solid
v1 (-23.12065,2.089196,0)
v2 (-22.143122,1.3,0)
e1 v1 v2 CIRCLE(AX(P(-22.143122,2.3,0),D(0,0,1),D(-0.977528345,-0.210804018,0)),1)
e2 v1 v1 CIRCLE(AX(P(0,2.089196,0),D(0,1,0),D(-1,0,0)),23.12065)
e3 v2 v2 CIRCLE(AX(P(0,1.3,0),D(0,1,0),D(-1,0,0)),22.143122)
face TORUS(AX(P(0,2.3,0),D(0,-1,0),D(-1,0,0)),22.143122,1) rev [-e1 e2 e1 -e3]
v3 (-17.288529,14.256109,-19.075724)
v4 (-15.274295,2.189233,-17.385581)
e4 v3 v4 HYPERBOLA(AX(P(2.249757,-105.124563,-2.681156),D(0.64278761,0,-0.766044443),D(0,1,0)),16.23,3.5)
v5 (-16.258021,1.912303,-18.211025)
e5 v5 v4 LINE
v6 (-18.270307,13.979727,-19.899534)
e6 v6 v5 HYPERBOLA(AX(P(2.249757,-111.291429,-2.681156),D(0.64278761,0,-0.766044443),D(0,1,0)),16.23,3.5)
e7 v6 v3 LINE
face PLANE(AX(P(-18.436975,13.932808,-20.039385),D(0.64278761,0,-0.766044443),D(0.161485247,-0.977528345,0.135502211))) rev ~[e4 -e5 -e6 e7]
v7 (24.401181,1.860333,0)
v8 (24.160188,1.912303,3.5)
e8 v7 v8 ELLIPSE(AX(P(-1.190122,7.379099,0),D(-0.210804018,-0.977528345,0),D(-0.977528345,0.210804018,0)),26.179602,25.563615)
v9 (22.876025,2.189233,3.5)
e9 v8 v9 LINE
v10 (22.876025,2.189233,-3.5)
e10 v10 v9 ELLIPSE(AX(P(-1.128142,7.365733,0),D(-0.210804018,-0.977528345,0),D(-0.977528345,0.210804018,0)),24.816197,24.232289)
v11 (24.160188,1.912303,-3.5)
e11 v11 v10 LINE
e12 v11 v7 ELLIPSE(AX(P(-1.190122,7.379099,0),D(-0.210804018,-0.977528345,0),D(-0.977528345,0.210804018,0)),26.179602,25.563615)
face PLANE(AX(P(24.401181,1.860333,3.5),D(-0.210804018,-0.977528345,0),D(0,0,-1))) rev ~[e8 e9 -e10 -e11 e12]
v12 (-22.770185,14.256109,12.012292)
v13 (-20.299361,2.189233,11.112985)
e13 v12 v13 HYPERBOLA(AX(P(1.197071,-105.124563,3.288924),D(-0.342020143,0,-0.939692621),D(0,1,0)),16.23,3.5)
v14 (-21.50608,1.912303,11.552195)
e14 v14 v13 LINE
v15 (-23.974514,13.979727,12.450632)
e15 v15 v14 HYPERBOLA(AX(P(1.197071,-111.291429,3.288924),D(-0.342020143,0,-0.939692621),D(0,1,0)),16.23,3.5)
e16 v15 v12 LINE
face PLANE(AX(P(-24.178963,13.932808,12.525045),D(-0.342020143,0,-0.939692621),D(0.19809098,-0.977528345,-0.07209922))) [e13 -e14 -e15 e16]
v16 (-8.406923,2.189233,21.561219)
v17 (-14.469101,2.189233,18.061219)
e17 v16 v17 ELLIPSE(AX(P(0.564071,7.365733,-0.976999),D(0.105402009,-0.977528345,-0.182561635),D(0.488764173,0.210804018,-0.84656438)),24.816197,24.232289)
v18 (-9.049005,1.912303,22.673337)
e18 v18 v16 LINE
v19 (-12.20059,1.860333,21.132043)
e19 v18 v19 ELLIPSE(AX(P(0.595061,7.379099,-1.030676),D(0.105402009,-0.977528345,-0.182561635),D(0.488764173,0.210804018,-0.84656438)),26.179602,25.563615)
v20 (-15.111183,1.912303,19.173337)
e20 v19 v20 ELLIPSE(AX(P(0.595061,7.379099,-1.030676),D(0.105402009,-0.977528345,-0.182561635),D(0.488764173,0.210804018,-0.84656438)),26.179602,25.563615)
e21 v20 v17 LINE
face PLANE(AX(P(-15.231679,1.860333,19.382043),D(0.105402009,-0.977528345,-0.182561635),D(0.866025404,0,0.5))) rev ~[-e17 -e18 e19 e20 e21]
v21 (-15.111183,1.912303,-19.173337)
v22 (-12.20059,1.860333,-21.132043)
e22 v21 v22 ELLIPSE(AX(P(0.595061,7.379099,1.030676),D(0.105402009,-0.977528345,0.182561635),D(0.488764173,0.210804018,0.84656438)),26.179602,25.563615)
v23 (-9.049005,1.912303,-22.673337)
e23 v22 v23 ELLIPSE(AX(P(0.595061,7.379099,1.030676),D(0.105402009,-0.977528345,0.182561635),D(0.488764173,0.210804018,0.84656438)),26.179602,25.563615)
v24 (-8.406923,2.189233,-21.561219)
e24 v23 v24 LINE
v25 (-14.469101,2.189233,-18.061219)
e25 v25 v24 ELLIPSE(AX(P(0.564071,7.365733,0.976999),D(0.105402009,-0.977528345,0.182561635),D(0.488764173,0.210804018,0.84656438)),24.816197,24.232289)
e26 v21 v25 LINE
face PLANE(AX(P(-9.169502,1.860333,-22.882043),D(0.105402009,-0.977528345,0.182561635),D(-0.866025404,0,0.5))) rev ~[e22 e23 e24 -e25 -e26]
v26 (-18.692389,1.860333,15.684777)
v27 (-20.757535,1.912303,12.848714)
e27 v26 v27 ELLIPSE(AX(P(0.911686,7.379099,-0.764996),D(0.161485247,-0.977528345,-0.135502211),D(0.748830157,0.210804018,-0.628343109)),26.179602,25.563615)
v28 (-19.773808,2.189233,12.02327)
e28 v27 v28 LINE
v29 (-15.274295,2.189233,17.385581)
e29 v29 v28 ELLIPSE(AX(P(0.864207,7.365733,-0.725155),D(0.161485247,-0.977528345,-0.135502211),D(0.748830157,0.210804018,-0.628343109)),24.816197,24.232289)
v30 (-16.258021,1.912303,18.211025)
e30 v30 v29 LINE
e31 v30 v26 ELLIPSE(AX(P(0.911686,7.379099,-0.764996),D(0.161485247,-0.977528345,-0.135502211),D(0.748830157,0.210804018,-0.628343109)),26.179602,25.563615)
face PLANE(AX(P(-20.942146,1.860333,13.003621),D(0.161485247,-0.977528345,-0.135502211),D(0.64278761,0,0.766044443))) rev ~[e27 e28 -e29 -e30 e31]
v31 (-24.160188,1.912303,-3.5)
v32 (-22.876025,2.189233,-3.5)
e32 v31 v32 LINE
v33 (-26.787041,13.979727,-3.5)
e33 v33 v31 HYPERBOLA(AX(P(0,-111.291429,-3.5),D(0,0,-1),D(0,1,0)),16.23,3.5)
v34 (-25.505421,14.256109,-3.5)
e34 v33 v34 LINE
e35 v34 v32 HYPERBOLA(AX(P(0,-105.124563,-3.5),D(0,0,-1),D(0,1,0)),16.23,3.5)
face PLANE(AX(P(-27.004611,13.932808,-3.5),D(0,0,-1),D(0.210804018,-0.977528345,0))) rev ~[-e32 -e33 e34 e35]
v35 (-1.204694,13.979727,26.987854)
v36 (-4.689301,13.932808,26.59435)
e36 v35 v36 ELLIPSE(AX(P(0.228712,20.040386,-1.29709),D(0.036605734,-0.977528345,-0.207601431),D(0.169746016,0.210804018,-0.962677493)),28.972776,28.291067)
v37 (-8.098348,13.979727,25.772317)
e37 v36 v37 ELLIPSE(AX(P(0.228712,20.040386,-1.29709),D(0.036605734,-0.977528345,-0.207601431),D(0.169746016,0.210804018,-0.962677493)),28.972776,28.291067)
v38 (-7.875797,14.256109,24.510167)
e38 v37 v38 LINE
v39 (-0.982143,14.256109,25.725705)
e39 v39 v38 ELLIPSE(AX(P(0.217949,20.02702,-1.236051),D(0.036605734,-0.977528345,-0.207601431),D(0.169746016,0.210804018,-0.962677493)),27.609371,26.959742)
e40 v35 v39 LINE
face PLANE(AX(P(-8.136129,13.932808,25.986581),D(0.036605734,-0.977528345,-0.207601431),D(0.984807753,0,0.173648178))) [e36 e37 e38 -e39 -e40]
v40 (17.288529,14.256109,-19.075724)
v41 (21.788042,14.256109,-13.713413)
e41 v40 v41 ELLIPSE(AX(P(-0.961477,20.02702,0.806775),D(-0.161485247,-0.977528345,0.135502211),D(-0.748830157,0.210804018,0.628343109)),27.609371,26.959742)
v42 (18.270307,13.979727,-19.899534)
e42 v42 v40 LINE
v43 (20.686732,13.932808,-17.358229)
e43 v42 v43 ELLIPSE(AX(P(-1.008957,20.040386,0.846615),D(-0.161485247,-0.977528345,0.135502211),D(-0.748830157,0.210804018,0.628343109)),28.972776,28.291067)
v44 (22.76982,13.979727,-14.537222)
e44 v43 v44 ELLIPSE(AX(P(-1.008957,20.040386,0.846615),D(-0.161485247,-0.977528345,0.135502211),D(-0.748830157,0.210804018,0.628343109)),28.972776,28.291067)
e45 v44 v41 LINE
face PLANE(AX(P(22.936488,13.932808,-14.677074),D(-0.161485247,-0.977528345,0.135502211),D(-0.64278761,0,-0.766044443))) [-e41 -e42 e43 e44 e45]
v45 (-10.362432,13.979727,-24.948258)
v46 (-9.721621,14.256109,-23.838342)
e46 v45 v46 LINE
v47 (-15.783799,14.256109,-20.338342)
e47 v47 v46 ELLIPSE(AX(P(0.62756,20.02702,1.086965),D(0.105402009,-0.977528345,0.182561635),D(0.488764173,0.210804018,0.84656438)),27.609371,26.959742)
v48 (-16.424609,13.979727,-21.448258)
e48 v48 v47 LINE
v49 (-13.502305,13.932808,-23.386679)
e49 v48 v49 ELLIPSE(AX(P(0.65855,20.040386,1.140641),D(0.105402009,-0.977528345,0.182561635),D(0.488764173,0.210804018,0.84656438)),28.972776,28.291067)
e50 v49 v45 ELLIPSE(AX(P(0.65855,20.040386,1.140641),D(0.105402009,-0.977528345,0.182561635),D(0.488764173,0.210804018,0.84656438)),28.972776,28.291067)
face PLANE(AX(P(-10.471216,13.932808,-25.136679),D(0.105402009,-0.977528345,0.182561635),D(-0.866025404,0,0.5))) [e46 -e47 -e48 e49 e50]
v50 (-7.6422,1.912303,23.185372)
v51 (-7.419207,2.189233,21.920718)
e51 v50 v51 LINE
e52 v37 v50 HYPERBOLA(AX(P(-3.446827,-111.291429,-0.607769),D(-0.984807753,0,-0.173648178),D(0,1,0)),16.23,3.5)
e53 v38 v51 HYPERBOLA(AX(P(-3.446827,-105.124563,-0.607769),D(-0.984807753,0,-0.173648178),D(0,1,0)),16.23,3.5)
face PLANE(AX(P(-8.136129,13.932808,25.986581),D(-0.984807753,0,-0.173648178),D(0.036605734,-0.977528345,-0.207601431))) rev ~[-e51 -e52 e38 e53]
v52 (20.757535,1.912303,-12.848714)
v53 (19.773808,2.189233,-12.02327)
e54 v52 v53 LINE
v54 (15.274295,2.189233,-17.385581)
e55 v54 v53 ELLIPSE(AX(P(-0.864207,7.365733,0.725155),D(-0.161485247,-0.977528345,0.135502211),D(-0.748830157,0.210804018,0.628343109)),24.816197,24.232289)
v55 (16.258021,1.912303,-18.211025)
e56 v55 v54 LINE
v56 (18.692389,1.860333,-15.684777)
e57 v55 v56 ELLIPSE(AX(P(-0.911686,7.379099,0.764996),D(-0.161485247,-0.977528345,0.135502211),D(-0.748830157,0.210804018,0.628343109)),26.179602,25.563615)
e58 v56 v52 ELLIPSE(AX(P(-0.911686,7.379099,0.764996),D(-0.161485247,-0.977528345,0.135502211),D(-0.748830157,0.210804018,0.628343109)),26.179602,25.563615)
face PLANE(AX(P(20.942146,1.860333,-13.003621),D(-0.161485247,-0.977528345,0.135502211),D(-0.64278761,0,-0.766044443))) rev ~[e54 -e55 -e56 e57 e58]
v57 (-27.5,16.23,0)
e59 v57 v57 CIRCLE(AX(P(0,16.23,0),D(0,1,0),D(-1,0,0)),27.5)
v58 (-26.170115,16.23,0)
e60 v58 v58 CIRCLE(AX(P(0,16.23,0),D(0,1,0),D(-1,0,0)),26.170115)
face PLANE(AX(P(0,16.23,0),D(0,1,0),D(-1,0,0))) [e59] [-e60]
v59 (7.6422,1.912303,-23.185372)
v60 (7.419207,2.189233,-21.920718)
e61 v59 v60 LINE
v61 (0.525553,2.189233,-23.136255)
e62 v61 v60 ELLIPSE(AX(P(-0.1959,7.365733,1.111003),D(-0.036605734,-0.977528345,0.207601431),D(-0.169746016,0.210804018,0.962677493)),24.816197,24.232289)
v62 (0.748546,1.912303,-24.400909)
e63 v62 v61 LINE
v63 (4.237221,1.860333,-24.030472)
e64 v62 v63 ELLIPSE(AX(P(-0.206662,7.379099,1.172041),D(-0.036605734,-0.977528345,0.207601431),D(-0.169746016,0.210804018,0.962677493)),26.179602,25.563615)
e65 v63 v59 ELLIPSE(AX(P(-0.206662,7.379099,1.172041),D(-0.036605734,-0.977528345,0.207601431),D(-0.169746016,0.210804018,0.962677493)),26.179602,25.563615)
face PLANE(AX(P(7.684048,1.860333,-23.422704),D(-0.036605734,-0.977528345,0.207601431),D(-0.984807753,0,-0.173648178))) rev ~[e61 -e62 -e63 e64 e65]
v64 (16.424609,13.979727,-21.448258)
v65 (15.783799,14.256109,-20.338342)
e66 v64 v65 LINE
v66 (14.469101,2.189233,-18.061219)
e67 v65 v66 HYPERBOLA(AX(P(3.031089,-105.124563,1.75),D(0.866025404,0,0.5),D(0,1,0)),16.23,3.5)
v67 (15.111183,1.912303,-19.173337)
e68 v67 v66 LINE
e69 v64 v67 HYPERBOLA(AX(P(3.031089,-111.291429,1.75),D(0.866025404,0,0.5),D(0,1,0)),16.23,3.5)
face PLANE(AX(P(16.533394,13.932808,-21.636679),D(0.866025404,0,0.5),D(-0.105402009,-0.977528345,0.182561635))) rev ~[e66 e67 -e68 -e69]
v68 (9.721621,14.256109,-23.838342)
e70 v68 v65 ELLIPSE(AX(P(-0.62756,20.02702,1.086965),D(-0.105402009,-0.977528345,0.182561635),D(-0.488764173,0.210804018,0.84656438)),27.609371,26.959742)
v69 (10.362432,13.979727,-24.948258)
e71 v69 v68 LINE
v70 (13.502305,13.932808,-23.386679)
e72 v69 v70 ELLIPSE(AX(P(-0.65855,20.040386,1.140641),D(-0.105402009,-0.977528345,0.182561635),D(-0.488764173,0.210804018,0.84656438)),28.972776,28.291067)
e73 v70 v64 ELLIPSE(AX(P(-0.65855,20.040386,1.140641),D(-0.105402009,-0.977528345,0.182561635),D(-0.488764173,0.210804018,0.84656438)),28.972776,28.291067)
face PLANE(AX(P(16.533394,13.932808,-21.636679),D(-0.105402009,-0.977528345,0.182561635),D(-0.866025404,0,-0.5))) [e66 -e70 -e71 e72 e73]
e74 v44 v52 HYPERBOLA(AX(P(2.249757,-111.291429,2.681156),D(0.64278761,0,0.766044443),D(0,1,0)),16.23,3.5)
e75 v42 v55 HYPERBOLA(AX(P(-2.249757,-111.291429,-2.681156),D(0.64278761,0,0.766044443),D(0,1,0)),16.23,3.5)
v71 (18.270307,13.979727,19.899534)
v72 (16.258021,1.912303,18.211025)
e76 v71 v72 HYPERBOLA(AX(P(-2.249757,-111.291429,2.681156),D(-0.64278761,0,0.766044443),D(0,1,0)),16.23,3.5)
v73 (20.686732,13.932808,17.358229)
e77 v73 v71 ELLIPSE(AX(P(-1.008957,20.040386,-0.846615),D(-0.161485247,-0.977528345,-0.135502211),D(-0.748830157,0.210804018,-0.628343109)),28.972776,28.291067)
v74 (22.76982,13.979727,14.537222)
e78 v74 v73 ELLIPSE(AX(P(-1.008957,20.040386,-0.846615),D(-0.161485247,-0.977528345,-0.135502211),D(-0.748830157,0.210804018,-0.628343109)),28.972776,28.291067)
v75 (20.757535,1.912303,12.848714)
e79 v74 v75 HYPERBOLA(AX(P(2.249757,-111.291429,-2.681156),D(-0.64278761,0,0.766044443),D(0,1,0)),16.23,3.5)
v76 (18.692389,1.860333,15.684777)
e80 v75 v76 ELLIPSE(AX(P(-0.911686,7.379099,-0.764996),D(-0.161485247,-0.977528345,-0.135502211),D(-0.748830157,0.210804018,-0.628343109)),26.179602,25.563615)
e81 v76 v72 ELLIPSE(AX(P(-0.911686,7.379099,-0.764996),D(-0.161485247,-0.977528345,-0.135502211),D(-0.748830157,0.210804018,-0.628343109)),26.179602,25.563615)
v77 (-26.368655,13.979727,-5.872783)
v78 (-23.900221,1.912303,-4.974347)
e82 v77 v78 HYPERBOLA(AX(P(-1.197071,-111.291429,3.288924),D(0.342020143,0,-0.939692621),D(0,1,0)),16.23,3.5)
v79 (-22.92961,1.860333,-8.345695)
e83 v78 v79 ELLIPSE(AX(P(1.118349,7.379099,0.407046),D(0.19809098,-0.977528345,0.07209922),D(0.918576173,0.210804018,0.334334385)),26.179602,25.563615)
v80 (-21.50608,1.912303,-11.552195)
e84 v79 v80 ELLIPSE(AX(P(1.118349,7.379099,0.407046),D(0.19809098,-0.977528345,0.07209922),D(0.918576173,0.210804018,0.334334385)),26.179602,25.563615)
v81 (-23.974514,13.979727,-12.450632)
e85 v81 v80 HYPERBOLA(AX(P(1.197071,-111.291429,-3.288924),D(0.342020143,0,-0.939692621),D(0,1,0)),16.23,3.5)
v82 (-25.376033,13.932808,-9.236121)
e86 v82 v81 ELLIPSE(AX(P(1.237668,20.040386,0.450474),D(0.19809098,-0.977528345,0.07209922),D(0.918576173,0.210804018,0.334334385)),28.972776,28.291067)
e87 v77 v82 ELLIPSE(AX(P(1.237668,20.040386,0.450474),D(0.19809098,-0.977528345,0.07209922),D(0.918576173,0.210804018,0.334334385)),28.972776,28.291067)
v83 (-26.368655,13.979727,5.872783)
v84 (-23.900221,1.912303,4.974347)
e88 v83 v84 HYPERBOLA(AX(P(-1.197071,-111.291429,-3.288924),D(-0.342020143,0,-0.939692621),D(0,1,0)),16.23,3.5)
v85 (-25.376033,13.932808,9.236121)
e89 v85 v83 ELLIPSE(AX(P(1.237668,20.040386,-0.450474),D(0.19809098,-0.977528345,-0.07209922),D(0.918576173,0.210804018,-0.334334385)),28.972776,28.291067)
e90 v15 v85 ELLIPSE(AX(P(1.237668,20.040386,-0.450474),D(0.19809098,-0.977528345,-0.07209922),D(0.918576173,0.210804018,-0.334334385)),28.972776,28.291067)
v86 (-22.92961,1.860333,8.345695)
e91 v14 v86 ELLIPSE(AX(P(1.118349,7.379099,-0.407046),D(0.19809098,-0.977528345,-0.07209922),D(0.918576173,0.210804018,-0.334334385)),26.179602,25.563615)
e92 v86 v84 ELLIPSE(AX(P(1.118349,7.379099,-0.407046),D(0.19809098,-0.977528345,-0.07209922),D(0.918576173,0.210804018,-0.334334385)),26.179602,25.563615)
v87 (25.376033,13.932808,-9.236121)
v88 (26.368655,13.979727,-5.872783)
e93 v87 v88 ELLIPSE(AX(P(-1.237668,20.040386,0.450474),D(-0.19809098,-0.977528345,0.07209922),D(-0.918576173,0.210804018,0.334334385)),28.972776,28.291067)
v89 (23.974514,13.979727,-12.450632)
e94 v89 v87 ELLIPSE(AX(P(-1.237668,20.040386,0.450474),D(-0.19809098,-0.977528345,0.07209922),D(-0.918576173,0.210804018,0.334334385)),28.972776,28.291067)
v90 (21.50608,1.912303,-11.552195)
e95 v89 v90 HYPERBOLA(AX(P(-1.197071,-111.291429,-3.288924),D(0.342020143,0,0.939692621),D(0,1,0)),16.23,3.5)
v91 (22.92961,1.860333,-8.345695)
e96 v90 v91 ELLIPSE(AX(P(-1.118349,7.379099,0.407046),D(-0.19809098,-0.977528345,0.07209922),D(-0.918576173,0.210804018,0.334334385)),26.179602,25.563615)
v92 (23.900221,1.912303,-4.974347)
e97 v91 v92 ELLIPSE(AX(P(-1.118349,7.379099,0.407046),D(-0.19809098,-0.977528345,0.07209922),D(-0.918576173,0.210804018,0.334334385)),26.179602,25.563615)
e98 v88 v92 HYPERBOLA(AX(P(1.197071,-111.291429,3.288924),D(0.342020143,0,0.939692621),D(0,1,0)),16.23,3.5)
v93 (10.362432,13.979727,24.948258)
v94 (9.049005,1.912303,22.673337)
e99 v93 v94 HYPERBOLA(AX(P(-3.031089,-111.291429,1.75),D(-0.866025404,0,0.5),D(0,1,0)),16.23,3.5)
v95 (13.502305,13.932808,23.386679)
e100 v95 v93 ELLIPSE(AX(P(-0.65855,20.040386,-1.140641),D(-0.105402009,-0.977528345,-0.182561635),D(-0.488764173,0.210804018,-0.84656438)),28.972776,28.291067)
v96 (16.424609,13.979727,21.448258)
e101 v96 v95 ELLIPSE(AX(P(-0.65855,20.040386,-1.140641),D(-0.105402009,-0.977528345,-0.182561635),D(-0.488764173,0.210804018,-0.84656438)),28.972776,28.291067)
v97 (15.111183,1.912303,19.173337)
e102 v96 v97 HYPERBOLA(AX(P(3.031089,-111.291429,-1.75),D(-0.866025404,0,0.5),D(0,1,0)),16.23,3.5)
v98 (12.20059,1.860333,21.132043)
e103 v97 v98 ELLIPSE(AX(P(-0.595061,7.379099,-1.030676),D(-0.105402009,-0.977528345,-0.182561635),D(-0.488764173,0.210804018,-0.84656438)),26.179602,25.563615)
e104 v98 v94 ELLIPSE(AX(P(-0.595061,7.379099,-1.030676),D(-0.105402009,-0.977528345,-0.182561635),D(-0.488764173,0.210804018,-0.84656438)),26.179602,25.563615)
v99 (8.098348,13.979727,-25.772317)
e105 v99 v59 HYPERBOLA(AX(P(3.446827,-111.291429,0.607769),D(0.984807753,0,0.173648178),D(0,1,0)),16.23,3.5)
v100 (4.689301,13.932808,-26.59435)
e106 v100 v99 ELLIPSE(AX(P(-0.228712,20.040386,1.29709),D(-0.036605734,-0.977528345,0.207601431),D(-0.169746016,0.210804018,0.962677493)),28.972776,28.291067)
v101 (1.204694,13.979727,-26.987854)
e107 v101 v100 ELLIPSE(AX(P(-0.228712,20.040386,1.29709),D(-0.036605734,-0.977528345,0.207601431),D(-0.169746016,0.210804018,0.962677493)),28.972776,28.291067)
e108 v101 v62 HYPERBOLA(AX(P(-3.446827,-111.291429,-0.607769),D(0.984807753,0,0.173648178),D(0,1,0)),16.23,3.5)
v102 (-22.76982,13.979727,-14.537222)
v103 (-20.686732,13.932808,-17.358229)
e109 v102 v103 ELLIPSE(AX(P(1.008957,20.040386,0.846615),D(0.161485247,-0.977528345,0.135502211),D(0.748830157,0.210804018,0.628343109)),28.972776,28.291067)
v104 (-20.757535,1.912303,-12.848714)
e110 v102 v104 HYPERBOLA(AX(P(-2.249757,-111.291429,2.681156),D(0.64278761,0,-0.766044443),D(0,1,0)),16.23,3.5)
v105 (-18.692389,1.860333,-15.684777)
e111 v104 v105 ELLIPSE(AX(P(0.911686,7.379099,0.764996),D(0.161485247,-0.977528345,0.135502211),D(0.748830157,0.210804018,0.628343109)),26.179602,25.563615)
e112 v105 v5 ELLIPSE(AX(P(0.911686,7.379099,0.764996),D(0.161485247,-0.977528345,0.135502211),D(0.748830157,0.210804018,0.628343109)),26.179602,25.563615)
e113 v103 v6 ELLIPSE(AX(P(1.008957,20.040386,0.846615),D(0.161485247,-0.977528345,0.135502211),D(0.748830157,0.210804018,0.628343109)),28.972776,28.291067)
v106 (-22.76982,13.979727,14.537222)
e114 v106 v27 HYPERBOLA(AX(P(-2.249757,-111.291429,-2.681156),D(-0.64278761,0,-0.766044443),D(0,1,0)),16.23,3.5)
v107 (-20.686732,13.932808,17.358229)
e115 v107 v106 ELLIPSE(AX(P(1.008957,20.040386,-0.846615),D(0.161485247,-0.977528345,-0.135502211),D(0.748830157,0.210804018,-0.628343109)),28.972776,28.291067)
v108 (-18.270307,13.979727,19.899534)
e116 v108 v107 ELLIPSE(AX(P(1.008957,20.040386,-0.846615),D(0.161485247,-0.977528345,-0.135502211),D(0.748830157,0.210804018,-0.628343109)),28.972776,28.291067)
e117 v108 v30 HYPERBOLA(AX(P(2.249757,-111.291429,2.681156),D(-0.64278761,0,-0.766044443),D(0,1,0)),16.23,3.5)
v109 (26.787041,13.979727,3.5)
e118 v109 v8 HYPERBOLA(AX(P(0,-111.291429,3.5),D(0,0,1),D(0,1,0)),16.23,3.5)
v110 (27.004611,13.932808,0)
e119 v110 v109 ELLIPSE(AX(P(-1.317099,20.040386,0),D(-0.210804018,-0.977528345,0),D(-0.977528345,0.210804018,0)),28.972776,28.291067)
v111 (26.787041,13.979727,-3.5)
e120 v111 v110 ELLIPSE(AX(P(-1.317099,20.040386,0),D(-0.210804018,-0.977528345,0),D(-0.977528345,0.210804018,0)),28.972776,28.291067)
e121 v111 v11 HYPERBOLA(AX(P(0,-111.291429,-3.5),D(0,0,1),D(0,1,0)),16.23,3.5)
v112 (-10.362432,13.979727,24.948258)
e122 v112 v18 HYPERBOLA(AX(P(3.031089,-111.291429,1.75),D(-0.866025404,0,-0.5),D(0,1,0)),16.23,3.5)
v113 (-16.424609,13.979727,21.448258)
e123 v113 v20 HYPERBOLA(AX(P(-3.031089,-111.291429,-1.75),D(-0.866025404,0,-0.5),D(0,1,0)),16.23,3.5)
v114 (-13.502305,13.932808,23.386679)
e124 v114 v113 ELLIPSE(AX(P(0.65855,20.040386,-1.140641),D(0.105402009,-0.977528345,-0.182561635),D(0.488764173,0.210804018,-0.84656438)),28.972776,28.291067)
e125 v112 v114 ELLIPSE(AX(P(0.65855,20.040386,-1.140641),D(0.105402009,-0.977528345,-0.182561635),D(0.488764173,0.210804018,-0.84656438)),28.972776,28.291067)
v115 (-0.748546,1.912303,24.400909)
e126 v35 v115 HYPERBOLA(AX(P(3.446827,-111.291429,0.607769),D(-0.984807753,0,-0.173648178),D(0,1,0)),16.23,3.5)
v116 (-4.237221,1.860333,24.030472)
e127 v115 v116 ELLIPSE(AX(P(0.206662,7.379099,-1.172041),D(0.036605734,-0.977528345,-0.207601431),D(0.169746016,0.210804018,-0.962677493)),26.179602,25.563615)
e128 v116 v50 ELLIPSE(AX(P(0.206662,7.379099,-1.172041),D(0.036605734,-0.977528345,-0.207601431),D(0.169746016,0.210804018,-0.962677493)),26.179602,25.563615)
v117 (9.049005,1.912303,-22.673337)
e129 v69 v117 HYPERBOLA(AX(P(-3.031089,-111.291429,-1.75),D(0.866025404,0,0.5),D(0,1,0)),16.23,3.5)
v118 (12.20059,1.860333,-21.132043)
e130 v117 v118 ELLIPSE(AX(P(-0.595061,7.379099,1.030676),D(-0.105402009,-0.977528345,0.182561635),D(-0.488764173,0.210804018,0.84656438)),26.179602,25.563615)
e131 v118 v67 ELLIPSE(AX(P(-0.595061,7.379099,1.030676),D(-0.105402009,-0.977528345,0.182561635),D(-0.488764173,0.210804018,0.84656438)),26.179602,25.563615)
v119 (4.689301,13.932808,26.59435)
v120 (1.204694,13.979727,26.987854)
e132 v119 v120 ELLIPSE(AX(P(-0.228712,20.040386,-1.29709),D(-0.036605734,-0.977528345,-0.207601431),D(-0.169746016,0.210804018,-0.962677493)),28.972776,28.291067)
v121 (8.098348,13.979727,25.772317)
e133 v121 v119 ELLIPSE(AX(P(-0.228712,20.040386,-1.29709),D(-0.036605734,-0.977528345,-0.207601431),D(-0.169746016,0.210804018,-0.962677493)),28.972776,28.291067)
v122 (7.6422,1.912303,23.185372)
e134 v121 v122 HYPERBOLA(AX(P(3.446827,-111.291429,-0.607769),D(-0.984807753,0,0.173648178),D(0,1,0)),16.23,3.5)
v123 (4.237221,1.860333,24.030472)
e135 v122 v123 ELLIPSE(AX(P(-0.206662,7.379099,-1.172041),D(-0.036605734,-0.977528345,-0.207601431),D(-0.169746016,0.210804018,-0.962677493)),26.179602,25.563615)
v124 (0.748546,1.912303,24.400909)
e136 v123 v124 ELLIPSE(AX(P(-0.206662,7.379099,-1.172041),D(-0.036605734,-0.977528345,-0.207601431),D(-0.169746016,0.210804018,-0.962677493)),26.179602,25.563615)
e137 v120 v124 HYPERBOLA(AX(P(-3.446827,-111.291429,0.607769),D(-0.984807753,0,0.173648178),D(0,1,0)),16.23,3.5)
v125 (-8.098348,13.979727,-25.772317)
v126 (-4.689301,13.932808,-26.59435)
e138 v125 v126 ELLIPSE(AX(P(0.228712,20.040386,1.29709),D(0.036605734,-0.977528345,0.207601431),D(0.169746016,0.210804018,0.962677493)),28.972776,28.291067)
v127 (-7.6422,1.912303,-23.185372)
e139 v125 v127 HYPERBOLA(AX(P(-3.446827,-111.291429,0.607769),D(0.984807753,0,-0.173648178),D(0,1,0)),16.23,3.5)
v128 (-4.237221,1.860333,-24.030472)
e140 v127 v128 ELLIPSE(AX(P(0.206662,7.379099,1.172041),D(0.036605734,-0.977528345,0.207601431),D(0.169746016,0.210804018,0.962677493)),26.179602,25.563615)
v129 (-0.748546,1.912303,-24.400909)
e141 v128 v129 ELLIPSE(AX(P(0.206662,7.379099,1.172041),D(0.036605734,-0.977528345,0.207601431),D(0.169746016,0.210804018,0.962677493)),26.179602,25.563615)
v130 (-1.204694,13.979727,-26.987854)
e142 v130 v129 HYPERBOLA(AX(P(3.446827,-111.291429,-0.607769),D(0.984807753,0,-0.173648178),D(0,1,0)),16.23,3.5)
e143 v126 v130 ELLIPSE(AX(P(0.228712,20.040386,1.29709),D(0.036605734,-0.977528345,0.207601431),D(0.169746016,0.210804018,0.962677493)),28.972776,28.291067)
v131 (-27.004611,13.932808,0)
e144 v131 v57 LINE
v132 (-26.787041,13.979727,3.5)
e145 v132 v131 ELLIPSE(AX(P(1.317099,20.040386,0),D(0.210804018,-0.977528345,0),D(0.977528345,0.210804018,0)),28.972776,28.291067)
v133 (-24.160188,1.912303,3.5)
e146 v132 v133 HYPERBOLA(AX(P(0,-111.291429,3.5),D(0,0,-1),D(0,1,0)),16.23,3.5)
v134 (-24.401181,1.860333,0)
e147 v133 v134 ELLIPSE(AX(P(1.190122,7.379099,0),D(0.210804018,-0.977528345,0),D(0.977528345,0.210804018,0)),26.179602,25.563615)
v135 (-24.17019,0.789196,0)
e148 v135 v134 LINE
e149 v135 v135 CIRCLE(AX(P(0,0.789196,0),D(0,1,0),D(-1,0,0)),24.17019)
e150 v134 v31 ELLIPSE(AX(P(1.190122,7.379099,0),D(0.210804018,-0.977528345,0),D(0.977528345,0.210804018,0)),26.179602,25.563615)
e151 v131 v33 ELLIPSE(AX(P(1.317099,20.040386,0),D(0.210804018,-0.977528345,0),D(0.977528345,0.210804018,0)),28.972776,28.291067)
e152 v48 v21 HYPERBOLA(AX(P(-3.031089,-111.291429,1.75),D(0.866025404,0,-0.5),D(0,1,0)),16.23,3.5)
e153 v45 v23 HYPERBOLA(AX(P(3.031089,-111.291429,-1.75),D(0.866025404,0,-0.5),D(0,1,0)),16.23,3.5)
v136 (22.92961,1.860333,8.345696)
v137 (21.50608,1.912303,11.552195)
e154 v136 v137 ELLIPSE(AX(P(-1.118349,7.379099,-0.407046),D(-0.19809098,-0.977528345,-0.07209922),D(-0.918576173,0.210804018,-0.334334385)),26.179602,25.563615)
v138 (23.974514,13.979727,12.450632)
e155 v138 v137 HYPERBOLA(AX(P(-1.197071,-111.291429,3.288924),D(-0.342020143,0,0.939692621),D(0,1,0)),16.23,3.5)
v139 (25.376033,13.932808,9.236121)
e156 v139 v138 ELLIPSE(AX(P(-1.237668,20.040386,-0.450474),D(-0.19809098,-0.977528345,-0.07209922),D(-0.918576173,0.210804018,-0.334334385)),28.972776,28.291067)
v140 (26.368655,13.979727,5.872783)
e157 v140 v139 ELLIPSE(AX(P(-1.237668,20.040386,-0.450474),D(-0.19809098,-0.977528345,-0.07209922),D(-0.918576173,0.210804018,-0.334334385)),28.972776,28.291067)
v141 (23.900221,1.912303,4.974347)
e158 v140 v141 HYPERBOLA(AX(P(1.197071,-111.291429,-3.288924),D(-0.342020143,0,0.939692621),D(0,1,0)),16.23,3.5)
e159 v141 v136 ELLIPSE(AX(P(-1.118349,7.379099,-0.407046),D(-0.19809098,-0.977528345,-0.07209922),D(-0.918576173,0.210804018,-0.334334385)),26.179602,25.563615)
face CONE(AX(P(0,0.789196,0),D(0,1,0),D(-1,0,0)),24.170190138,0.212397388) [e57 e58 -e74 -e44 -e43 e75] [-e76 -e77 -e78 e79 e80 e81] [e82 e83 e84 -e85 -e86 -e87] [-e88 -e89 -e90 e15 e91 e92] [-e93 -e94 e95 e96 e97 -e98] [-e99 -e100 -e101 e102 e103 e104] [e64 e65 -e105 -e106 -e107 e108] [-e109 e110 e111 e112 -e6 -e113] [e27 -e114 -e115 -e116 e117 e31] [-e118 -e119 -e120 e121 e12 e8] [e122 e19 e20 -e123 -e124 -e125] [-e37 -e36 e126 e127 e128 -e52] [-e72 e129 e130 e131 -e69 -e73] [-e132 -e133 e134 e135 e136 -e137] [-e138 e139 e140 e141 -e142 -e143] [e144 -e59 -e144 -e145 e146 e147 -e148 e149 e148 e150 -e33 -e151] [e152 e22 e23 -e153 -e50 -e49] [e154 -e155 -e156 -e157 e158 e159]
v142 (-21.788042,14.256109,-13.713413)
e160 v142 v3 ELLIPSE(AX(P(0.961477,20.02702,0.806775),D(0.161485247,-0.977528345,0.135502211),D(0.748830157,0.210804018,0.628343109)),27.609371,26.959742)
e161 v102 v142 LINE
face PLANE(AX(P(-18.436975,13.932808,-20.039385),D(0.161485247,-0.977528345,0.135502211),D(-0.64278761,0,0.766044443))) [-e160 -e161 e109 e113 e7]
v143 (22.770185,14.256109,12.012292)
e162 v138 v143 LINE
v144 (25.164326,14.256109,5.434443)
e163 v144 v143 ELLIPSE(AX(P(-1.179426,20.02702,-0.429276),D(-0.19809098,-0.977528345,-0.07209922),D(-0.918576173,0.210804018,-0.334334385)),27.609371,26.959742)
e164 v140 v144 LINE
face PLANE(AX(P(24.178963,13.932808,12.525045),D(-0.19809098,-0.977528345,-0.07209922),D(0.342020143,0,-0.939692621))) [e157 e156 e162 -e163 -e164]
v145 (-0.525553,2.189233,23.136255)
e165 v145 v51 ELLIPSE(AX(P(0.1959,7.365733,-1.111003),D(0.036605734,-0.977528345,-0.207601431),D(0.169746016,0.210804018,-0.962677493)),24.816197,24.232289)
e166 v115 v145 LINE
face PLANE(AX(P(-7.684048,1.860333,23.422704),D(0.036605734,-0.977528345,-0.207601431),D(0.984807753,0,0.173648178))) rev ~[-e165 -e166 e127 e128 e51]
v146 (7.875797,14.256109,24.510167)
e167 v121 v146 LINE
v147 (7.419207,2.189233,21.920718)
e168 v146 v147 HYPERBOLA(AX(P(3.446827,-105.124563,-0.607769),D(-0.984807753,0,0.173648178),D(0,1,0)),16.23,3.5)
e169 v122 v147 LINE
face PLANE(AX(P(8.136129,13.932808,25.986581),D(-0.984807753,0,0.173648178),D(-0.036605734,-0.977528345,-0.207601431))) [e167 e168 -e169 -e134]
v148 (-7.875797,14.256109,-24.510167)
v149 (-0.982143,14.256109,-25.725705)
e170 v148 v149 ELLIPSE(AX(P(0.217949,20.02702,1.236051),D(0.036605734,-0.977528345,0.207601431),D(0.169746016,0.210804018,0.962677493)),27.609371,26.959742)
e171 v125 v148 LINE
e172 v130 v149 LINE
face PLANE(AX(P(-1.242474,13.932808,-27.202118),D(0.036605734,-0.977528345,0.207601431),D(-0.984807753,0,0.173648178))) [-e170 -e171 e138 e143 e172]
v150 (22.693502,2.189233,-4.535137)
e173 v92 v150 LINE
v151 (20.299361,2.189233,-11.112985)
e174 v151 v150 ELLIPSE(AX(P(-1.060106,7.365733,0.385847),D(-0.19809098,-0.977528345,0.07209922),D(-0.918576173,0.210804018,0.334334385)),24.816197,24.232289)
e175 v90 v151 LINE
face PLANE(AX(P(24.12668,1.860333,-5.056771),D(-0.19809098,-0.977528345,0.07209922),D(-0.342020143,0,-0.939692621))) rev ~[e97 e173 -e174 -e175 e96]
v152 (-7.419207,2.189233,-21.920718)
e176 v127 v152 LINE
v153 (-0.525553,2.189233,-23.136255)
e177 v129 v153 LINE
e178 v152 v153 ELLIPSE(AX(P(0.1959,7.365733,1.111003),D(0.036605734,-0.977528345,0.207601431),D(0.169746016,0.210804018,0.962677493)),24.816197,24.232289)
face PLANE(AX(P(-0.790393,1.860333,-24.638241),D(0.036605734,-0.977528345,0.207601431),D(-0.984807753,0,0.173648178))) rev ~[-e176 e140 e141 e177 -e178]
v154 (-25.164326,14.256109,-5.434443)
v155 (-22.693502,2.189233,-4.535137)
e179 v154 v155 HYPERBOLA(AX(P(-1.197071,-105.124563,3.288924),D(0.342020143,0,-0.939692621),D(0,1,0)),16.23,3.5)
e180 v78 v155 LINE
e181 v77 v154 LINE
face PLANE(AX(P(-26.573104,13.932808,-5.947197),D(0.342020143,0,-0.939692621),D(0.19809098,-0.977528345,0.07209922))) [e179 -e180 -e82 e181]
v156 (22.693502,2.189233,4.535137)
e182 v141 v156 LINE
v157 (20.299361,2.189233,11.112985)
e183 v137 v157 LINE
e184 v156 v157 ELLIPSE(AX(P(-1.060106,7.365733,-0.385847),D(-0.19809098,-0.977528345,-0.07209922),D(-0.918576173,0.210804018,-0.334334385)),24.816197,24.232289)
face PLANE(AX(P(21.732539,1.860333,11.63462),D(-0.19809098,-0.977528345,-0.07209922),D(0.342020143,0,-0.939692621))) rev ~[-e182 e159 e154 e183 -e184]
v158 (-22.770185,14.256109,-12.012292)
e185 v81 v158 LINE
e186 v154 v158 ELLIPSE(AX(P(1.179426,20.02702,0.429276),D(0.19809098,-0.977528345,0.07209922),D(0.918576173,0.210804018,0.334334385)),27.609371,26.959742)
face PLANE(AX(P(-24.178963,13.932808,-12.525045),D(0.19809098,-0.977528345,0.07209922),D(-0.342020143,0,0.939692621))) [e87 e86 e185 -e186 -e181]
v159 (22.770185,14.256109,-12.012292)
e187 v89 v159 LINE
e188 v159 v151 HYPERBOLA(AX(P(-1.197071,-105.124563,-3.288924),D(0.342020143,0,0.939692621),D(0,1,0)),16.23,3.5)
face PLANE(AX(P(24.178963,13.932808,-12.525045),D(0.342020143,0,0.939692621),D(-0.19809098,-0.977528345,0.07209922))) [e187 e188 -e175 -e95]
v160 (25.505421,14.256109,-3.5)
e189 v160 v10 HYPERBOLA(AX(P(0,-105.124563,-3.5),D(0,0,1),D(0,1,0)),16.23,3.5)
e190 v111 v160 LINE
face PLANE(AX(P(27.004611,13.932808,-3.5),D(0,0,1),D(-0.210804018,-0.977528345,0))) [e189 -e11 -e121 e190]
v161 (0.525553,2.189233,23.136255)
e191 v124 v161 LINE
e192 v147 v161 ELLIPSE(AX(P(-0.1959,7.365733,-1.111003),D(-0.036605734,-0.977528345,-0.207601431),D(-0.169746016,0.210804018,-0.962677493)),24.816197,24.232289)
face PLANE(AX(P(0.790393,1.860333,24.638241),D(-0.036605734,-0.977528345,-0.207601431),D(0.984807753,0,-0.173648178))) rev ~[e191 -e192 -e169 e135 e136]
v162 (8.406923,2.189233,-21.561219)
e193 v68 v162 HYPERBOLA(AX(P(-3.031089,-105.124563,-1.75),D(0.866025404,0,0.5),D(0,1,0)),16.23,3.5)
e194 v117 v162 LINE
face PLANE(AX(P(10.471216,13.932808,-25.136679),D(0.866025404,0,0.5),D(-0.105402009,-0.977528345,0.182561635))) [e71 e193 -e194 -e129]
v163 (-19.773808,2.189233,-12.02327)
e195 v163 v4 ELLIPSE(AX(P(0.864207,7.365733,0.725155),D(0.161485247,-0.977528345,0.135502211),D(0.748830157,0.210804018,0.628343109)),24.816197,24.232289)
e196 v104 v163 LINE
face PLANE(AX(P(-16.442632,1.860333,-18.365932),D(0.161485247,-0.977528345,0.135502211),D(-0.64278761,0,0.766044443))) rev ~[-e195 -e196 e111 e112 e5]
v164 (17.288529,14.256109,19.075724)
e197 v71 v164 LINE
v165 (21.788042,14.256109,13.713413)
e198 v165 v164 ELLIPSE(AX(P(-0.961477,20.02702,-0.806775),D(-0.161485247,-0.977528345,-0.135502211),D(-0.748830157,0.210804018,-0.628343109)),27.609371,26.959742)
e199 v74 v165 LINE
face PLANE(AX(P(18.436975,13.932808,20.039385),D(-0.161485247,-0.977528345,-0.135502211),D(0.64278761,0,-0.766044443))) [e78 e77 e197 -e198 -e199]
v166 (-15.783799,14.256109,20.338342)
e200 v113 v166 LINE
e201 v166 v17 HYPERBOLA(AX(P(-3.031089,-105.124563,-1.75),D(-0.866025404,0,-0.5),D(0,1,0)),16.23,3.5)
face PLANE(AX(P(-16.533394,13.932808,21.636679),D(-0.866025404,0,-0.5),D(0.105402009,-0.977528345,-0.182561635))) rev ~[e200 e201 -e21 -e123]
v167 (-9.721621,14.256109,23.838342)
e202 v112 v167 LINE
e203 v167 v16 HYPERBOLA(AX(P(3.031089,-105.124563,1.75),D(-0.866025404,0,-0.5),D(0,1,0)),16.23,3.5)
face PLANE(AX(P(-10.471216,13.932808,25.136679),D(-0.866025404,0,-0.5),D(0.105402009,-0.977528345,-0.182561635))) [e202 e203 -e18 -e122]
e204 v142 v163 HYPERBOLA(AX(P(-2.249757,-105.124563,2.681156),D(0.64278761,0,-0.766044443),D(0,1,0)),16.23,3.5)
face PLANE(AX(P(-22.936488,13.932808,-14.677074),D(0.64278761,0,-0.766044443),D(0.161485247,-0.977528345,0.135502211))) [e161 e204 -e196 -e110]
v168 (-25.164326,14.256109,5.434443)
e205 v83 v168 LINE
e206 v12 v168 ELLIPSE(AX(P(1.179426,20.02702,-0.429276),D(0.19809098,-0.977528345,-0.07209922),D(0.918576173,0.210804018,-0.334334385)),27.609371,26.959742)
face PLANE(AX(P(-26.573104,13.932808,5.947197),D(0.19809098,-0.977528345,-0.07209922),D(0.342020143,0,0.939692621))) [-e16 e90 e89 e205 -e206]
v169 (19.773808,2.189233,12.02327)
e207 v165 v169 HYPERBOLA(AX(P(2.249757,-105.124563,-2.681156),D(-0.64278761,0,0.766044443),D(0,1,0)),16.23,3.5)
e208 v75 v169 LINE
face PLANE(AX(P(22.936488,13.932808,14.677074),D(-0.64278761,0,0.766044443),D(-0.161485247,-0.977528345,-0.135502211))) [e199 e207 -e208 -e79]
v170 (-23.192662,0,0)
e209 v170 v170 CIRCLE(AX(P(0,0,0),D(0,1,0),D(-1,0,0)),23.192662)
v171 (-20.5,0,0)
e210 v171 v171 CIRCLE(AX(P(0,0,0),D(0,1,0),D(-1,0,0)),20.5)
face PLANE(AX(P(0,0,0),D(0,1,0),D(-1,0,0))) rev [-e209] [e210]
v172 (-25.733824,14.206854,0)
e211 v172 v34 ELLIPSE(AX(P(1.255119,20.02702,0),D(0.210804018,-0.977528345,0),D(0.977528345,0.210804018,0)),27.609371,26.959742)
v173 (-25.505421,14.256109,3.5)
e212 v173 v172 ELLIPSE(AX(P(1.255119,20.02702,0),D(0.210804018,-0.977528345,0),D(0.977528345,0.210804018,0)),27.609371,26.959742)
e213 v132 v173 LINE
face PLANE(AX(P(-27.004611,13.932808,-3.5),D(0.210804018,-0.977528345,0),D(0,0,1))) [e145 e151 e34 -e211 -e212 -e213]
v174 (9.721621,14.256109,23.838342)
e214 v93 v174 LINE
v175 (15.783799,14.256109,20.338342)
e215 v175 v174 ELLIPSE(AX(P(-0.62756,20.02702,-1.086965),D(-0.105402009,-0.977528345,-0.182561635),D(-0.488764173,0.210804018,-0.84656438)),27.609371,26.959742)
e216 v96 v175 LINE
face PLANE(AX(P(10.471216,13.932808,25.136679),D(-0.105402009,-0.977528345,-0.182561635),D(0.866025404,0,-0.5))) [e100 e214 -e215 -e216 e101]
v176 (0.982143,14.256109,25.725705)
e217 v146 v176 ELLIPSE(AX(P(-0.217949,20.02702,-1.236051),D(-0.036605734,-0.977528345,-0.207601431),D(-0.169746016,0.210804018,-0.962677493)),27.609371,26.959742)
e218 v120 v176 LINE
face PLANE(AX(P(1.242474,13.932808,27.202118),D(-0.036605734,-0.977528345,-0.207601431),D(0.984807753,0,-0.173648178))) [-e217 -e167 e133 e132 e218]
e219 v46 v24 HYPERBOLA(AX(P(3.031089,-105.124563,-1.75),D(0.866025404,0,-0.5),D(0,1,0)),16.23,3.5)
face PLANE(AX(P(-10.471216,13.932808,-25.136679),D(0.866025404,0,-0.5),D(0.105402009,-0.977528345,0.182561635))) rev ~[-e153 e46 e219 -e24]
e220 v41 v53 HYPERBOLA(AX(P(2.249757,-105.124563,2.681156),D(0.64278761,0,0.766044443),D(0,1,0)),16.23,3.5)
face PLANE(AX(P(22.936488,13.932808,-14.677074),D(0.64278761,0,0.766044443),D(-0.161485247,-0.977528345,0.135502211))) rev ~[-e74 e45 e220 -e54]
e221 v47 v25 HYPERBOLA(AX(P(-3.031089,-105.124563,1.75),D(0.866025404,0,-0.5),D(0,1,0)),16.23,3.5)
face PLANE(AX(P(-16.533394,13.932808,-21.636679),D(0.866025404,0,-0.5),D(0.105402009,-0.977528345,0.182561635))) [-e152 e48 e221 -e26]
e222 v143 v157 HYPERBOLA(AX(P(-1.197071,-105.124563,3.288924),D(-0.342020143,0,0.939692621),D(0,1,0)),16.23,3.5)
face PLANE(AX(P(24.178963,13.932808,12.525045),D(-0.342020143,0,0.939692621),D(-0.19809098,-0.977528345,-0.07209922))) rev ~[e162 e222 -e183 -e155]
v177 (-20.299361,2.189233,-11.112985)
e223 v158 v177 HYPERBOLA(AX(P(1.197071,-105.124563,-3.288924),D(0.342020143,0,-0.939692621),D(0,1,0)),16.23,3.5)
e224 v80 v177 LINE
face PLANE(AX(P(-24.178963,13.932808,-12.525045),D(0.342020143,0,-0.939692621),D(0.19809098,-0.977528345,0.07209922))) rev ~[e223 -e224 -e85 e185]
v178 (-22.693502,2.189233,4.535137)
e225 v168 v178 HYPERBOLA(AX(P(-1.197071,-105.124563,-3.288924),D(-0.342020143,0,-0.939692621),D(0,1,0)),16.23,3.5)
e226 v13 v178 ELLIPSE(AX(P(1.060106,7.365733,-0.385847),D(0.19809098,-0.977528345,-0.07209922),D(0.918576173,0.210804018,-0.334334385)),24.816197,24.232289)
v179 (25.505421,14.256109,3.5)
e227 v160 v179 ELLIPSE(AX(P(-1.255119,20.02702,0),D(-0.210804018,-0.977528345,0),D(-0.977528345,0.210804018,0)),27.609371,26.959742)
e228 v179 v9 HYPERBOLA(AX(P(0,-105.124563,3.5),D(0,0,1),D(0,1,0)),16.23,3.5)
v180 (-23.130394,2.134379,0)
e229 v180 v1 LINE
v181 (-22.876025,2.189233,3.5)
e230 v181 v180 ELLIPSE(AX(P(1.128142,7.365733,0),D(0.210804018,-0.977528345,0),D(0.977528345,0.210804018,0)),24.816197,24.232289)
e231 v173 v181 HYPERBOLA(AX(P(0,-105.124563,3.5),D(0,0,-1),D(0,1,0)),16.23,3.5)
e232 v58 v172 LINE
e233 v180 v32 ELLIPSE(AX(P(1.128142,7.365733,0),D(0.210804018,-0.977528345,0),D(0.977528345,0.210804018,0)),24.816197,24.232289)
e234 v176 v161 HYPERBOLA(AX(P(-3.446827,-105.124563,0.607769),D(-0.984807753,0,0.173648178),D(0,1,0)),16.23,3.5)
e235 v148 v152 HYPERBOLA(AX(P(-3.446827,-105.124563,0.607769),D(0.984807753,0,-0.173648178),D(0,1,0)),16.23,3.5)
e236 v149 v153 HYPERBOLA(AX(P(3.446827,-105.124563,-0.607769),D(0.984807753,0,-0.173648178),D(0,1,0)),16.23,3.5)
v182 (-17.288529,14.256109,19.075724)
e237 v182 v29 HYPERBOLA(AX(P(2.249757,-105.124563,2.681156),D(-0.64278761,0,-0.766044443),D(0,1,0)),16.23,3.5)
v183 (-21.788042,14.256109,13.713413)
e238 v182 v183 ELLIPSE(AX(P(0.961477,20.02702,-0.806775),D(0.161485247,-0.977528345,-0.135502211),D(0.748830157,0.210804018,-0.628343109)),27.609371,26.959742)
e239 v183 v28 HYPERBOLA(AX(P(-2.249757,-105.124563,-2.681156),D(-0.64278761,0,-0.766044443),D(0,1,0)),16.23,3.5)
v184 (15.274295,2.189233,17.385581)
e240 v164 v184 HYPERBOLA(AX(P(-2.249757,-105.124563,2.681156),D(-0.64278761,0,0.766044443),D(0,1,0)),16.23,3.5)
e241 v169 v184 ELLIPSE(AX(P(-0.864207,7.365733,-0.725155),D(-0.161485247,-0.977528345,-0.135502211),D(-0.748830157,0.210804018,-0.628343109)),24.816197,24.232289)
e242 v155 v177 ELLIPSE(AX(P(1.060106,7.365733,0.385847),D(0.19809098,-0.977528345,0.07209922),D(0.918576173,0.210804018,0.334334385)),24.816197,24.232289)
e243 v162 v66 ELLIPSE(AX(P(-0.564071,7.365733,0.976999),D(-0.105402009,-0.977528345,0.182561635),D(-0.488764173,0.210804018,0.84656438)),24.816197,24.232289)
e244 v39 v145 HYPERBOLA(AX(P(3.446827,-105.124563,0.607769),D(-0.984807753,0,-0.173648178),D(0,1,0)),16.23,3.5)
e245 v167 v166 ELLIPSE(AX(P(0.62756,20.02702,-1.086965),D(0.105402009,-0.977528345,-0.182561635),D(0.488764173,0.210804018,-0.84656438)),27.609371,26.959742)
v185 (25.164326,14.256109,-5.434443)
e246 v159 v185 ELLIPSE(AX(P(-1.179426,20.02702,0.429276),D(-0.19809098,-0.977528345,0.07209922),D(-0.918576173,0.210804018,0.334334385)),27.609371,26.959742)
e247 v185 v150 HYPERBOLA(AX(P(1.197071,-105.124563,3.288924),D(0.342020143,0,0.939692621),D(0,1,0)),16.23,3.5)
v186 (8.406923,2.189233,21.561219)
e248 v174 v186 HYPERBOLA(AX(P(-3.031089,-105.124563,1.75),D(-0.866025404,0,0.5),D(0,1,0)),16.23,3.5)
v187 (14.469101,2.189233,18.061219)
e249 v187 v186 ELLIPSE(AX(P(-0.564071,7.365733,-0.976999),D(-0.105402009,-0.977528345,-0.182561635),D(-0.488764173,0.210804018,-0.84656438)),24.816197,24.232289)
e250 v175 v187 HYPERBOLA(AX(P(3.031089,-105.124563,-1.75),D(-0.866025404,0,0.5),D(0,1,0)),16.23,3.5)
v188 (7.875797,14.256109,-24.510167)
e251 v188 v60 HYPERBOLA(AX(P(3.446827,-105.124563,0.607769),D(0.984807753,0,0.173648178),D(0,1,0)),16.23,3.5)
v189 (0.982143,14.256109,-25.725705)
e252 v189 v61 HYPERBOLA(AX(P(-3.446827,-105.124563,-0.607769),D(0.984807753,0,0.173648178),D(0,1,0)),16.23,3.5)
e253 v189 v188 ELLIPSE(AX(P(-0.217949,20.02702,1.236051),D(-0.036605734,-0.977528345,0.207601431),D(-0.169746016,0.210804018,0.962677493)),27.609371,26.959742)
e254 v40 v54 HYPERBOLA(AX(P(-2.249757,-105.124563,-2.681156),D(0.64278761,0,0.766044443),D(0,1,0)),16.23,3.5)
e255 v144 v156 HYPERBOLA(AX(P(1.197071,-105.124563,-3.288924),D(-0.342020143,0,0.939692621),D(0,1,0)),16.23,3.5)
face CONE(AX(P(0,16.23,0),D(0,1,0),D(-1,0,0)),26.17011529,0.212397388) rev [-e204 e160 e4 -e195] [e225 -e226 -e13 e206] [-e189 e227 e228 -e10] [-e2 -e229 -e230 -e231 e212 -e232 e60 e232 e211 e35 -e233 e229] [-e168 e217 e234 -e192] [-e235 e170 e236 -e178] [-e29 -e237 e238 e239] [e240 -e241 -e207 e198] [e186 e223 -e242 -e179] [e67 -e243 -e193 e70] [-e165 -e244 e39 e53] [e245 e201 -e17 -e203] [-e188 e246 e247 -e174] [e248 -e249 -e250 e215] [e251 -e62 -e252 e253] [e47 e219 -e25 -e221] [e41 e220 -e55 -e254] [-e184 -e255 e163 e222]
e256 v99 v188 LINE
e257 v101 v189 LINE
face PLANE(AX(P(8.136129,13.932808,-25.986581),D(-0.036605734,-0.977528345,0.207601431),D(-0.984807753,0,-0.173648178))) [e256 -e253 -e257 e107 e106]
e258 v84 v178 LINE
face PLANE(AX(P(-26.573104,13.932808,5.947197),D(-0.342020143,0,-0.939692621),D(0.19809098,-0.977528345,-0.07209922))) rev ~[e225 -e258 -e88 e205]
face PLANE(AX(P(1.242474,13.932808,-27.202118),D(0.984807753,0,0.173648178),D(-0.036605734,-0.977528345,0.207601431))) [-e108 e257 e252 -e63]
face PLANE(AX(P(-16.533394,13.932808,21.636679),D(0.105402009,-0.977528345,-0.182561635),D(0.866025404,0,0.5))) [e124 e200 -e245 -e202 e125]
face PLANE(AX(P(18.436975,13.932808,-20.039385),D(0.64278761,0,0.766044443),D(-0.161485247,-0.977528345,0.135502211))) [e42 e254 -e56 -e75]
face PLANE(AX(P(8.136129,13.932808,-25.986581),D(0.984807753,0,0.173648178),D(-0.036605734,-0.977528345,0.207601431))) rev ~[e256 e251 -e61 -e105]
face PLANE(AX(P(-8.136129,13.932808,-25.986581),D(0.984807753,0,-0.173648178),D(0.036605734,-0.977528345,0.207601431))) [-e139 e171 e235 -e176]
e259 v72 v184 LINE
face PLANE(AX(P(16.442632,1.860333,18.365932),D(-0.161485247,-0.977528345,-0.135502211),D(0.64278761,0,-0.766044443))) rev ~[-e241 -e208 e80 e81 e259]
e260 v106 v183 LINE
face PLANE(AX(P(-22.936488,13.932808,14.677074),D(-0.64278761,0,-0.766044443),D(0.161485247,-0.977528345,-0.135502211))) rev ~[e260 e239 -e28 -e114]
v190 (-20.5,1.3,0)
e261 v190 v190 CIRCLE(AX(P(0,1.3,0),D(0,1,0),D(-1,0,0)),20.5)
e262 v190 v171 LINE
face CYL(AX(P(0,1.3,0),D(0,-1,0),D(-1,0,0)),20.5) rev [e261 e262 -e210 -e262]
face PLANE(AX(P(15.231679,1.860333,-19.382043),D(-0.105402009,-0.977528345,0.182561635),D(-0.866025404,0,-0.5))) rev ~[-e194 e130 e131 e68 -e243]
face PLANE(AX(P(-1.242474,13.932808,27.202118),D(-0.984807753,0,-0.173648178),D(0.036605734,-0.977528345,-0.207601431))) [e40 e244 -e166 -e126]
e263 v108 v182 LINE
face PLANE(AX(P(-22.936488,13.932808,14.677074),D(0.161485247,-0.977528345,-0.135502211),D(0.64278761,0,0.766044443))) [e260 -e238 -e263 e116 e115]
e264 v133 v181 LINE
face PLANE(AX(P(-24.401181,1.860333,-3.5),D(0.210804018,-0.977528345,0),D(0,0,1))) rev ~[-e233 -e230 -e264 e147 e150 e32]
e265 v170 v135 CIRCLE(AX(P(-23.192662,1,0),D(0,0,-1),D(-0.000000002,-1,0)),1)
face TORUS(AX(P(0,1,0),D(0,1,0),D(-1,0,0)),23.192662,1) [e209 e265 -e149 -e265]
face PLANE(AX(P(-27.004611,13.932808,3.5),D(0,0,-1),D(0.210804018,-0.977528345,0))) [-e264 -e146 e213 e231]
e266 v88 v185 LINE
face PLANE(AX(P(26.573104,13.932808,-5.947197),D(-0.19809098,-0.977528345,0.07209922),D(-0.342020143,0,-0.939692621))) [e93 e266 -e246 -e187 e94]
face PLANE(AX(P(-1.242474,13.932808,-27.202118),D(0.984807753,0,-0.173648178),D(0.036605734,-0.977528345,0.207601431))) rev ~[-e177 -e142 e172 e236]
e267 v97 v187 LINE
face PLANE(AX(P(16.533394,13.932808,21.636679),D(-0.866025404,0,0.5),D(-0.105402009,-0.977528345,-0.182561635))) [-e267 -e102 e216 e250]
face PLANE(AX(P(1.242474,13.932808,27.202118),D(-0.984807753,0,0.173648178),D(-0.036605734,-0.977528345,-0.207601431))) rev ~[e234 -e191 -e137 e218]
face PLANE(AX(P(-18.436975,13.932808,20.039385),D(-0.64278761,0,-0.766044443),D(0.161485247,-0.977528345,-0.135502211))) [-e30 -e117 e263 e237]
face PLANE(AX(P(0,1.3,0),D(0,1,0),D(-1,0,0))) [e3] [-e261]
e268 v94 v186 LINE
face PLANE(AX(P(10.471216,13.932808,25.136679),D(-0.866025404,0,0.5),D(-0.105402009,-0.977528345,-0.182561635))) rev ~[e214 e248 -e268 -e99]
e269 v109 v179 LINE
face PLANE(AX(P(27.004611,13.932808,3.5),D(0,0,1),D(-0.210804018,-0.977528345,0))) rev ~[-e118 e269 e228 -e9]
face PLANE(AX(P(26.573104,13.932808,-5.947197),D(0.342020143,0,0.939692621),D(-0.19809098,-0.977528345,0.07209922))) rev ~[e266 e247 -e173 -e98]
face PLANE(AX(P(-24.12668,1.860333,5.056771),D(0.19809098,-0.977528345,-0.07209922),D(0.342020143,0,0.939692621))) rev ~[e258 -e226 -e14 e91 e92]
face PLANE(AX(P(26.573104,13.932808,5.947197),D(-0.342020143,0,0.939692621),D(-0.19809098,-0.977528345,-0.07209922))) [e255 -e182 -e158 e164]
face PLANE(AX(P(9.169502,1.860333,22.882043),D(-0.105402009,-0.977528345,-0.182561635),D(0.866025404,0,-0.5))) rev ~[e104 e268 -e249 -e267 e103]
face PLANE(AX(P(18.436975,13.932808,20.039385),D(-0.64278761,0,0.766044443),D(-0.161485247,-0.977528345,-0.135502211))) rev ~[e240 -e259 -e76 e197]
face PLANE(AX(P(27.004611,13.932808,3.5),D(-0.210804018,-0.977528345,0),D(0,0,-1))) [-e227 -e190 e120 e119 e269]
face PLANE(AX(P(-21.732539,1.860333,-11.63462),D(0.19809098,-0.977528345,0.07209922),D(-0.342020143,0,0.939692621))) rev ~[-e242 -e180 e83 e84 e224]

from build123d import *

# Parameters (mm, degrees)
SKETCH3_W          = 12.35
SKETCH3_H          = 7
CUT_EXTRUDE1_DEPTH = 10
CIRPATTERN1_COUNT  = 18


with BuildPart() as part:
    # Sketch1 → Revolve3 (revolve)
    with BuildSketch(Plane.XY):
        with BuildLine():
            Line((-24.170190138, 0.789195982), (-27.5, 16.23))
            Line((-27.5, 16.23), (-26.17011529, 16.23))
            Line((-26.17011529, 16.23), (-23.120650468, 2.089195982))
            ThreePointArc((-23.120650468, 2.089195982), (-22.771292475, 1.521924163), (-22.143122123, 1.3))
            Line((-22.143122123, 1.3), (-20.5, 1.3))
            Line((-20.5, 1.3), (-20.5, 0))
            Line((-20.5, 0), (-23.192661792, 0))
            ThreePointArc((-23.192661792, 0), (-23.820832144, 0.221924163), (-24.170190138, 0.789195982))
        make_face()
    revolve(axis=Axis((0, 0, 0), (0, 1, 0)))

    # Sketch3 → Cut-Extrude1 (cut)
    with BuildSketch(Plane(origin=(22.933479986, -4.945605665, 0), x_dir=(-0.210804018, -0.977528345, 0), z_dir=(0.977528345, -0.210804018, 0))):
        with Locations((-13.137395536, 0)):
            Rectangle(SKETCH3_W, SKETCH3_H)
    cut_extrude1 = extrude(amount=-CUT_EXTRUDE1_DEPTH, mode=Mode.SUBTRACT)

    # CirPattern1: Cut-Extrude1 ×18 about axis
    cirpattern1_axis = Axis((0, 0, 0), (0, 1, 0))
    for i in range(1, CIRPATTERN1_COUNT):
        add(cut_extrude1.rotate(cirpattern1_axis, i * 360 / CIRPATTERN1_COUNT), mode=Mode.SUBTRACT)


solid = part.part
